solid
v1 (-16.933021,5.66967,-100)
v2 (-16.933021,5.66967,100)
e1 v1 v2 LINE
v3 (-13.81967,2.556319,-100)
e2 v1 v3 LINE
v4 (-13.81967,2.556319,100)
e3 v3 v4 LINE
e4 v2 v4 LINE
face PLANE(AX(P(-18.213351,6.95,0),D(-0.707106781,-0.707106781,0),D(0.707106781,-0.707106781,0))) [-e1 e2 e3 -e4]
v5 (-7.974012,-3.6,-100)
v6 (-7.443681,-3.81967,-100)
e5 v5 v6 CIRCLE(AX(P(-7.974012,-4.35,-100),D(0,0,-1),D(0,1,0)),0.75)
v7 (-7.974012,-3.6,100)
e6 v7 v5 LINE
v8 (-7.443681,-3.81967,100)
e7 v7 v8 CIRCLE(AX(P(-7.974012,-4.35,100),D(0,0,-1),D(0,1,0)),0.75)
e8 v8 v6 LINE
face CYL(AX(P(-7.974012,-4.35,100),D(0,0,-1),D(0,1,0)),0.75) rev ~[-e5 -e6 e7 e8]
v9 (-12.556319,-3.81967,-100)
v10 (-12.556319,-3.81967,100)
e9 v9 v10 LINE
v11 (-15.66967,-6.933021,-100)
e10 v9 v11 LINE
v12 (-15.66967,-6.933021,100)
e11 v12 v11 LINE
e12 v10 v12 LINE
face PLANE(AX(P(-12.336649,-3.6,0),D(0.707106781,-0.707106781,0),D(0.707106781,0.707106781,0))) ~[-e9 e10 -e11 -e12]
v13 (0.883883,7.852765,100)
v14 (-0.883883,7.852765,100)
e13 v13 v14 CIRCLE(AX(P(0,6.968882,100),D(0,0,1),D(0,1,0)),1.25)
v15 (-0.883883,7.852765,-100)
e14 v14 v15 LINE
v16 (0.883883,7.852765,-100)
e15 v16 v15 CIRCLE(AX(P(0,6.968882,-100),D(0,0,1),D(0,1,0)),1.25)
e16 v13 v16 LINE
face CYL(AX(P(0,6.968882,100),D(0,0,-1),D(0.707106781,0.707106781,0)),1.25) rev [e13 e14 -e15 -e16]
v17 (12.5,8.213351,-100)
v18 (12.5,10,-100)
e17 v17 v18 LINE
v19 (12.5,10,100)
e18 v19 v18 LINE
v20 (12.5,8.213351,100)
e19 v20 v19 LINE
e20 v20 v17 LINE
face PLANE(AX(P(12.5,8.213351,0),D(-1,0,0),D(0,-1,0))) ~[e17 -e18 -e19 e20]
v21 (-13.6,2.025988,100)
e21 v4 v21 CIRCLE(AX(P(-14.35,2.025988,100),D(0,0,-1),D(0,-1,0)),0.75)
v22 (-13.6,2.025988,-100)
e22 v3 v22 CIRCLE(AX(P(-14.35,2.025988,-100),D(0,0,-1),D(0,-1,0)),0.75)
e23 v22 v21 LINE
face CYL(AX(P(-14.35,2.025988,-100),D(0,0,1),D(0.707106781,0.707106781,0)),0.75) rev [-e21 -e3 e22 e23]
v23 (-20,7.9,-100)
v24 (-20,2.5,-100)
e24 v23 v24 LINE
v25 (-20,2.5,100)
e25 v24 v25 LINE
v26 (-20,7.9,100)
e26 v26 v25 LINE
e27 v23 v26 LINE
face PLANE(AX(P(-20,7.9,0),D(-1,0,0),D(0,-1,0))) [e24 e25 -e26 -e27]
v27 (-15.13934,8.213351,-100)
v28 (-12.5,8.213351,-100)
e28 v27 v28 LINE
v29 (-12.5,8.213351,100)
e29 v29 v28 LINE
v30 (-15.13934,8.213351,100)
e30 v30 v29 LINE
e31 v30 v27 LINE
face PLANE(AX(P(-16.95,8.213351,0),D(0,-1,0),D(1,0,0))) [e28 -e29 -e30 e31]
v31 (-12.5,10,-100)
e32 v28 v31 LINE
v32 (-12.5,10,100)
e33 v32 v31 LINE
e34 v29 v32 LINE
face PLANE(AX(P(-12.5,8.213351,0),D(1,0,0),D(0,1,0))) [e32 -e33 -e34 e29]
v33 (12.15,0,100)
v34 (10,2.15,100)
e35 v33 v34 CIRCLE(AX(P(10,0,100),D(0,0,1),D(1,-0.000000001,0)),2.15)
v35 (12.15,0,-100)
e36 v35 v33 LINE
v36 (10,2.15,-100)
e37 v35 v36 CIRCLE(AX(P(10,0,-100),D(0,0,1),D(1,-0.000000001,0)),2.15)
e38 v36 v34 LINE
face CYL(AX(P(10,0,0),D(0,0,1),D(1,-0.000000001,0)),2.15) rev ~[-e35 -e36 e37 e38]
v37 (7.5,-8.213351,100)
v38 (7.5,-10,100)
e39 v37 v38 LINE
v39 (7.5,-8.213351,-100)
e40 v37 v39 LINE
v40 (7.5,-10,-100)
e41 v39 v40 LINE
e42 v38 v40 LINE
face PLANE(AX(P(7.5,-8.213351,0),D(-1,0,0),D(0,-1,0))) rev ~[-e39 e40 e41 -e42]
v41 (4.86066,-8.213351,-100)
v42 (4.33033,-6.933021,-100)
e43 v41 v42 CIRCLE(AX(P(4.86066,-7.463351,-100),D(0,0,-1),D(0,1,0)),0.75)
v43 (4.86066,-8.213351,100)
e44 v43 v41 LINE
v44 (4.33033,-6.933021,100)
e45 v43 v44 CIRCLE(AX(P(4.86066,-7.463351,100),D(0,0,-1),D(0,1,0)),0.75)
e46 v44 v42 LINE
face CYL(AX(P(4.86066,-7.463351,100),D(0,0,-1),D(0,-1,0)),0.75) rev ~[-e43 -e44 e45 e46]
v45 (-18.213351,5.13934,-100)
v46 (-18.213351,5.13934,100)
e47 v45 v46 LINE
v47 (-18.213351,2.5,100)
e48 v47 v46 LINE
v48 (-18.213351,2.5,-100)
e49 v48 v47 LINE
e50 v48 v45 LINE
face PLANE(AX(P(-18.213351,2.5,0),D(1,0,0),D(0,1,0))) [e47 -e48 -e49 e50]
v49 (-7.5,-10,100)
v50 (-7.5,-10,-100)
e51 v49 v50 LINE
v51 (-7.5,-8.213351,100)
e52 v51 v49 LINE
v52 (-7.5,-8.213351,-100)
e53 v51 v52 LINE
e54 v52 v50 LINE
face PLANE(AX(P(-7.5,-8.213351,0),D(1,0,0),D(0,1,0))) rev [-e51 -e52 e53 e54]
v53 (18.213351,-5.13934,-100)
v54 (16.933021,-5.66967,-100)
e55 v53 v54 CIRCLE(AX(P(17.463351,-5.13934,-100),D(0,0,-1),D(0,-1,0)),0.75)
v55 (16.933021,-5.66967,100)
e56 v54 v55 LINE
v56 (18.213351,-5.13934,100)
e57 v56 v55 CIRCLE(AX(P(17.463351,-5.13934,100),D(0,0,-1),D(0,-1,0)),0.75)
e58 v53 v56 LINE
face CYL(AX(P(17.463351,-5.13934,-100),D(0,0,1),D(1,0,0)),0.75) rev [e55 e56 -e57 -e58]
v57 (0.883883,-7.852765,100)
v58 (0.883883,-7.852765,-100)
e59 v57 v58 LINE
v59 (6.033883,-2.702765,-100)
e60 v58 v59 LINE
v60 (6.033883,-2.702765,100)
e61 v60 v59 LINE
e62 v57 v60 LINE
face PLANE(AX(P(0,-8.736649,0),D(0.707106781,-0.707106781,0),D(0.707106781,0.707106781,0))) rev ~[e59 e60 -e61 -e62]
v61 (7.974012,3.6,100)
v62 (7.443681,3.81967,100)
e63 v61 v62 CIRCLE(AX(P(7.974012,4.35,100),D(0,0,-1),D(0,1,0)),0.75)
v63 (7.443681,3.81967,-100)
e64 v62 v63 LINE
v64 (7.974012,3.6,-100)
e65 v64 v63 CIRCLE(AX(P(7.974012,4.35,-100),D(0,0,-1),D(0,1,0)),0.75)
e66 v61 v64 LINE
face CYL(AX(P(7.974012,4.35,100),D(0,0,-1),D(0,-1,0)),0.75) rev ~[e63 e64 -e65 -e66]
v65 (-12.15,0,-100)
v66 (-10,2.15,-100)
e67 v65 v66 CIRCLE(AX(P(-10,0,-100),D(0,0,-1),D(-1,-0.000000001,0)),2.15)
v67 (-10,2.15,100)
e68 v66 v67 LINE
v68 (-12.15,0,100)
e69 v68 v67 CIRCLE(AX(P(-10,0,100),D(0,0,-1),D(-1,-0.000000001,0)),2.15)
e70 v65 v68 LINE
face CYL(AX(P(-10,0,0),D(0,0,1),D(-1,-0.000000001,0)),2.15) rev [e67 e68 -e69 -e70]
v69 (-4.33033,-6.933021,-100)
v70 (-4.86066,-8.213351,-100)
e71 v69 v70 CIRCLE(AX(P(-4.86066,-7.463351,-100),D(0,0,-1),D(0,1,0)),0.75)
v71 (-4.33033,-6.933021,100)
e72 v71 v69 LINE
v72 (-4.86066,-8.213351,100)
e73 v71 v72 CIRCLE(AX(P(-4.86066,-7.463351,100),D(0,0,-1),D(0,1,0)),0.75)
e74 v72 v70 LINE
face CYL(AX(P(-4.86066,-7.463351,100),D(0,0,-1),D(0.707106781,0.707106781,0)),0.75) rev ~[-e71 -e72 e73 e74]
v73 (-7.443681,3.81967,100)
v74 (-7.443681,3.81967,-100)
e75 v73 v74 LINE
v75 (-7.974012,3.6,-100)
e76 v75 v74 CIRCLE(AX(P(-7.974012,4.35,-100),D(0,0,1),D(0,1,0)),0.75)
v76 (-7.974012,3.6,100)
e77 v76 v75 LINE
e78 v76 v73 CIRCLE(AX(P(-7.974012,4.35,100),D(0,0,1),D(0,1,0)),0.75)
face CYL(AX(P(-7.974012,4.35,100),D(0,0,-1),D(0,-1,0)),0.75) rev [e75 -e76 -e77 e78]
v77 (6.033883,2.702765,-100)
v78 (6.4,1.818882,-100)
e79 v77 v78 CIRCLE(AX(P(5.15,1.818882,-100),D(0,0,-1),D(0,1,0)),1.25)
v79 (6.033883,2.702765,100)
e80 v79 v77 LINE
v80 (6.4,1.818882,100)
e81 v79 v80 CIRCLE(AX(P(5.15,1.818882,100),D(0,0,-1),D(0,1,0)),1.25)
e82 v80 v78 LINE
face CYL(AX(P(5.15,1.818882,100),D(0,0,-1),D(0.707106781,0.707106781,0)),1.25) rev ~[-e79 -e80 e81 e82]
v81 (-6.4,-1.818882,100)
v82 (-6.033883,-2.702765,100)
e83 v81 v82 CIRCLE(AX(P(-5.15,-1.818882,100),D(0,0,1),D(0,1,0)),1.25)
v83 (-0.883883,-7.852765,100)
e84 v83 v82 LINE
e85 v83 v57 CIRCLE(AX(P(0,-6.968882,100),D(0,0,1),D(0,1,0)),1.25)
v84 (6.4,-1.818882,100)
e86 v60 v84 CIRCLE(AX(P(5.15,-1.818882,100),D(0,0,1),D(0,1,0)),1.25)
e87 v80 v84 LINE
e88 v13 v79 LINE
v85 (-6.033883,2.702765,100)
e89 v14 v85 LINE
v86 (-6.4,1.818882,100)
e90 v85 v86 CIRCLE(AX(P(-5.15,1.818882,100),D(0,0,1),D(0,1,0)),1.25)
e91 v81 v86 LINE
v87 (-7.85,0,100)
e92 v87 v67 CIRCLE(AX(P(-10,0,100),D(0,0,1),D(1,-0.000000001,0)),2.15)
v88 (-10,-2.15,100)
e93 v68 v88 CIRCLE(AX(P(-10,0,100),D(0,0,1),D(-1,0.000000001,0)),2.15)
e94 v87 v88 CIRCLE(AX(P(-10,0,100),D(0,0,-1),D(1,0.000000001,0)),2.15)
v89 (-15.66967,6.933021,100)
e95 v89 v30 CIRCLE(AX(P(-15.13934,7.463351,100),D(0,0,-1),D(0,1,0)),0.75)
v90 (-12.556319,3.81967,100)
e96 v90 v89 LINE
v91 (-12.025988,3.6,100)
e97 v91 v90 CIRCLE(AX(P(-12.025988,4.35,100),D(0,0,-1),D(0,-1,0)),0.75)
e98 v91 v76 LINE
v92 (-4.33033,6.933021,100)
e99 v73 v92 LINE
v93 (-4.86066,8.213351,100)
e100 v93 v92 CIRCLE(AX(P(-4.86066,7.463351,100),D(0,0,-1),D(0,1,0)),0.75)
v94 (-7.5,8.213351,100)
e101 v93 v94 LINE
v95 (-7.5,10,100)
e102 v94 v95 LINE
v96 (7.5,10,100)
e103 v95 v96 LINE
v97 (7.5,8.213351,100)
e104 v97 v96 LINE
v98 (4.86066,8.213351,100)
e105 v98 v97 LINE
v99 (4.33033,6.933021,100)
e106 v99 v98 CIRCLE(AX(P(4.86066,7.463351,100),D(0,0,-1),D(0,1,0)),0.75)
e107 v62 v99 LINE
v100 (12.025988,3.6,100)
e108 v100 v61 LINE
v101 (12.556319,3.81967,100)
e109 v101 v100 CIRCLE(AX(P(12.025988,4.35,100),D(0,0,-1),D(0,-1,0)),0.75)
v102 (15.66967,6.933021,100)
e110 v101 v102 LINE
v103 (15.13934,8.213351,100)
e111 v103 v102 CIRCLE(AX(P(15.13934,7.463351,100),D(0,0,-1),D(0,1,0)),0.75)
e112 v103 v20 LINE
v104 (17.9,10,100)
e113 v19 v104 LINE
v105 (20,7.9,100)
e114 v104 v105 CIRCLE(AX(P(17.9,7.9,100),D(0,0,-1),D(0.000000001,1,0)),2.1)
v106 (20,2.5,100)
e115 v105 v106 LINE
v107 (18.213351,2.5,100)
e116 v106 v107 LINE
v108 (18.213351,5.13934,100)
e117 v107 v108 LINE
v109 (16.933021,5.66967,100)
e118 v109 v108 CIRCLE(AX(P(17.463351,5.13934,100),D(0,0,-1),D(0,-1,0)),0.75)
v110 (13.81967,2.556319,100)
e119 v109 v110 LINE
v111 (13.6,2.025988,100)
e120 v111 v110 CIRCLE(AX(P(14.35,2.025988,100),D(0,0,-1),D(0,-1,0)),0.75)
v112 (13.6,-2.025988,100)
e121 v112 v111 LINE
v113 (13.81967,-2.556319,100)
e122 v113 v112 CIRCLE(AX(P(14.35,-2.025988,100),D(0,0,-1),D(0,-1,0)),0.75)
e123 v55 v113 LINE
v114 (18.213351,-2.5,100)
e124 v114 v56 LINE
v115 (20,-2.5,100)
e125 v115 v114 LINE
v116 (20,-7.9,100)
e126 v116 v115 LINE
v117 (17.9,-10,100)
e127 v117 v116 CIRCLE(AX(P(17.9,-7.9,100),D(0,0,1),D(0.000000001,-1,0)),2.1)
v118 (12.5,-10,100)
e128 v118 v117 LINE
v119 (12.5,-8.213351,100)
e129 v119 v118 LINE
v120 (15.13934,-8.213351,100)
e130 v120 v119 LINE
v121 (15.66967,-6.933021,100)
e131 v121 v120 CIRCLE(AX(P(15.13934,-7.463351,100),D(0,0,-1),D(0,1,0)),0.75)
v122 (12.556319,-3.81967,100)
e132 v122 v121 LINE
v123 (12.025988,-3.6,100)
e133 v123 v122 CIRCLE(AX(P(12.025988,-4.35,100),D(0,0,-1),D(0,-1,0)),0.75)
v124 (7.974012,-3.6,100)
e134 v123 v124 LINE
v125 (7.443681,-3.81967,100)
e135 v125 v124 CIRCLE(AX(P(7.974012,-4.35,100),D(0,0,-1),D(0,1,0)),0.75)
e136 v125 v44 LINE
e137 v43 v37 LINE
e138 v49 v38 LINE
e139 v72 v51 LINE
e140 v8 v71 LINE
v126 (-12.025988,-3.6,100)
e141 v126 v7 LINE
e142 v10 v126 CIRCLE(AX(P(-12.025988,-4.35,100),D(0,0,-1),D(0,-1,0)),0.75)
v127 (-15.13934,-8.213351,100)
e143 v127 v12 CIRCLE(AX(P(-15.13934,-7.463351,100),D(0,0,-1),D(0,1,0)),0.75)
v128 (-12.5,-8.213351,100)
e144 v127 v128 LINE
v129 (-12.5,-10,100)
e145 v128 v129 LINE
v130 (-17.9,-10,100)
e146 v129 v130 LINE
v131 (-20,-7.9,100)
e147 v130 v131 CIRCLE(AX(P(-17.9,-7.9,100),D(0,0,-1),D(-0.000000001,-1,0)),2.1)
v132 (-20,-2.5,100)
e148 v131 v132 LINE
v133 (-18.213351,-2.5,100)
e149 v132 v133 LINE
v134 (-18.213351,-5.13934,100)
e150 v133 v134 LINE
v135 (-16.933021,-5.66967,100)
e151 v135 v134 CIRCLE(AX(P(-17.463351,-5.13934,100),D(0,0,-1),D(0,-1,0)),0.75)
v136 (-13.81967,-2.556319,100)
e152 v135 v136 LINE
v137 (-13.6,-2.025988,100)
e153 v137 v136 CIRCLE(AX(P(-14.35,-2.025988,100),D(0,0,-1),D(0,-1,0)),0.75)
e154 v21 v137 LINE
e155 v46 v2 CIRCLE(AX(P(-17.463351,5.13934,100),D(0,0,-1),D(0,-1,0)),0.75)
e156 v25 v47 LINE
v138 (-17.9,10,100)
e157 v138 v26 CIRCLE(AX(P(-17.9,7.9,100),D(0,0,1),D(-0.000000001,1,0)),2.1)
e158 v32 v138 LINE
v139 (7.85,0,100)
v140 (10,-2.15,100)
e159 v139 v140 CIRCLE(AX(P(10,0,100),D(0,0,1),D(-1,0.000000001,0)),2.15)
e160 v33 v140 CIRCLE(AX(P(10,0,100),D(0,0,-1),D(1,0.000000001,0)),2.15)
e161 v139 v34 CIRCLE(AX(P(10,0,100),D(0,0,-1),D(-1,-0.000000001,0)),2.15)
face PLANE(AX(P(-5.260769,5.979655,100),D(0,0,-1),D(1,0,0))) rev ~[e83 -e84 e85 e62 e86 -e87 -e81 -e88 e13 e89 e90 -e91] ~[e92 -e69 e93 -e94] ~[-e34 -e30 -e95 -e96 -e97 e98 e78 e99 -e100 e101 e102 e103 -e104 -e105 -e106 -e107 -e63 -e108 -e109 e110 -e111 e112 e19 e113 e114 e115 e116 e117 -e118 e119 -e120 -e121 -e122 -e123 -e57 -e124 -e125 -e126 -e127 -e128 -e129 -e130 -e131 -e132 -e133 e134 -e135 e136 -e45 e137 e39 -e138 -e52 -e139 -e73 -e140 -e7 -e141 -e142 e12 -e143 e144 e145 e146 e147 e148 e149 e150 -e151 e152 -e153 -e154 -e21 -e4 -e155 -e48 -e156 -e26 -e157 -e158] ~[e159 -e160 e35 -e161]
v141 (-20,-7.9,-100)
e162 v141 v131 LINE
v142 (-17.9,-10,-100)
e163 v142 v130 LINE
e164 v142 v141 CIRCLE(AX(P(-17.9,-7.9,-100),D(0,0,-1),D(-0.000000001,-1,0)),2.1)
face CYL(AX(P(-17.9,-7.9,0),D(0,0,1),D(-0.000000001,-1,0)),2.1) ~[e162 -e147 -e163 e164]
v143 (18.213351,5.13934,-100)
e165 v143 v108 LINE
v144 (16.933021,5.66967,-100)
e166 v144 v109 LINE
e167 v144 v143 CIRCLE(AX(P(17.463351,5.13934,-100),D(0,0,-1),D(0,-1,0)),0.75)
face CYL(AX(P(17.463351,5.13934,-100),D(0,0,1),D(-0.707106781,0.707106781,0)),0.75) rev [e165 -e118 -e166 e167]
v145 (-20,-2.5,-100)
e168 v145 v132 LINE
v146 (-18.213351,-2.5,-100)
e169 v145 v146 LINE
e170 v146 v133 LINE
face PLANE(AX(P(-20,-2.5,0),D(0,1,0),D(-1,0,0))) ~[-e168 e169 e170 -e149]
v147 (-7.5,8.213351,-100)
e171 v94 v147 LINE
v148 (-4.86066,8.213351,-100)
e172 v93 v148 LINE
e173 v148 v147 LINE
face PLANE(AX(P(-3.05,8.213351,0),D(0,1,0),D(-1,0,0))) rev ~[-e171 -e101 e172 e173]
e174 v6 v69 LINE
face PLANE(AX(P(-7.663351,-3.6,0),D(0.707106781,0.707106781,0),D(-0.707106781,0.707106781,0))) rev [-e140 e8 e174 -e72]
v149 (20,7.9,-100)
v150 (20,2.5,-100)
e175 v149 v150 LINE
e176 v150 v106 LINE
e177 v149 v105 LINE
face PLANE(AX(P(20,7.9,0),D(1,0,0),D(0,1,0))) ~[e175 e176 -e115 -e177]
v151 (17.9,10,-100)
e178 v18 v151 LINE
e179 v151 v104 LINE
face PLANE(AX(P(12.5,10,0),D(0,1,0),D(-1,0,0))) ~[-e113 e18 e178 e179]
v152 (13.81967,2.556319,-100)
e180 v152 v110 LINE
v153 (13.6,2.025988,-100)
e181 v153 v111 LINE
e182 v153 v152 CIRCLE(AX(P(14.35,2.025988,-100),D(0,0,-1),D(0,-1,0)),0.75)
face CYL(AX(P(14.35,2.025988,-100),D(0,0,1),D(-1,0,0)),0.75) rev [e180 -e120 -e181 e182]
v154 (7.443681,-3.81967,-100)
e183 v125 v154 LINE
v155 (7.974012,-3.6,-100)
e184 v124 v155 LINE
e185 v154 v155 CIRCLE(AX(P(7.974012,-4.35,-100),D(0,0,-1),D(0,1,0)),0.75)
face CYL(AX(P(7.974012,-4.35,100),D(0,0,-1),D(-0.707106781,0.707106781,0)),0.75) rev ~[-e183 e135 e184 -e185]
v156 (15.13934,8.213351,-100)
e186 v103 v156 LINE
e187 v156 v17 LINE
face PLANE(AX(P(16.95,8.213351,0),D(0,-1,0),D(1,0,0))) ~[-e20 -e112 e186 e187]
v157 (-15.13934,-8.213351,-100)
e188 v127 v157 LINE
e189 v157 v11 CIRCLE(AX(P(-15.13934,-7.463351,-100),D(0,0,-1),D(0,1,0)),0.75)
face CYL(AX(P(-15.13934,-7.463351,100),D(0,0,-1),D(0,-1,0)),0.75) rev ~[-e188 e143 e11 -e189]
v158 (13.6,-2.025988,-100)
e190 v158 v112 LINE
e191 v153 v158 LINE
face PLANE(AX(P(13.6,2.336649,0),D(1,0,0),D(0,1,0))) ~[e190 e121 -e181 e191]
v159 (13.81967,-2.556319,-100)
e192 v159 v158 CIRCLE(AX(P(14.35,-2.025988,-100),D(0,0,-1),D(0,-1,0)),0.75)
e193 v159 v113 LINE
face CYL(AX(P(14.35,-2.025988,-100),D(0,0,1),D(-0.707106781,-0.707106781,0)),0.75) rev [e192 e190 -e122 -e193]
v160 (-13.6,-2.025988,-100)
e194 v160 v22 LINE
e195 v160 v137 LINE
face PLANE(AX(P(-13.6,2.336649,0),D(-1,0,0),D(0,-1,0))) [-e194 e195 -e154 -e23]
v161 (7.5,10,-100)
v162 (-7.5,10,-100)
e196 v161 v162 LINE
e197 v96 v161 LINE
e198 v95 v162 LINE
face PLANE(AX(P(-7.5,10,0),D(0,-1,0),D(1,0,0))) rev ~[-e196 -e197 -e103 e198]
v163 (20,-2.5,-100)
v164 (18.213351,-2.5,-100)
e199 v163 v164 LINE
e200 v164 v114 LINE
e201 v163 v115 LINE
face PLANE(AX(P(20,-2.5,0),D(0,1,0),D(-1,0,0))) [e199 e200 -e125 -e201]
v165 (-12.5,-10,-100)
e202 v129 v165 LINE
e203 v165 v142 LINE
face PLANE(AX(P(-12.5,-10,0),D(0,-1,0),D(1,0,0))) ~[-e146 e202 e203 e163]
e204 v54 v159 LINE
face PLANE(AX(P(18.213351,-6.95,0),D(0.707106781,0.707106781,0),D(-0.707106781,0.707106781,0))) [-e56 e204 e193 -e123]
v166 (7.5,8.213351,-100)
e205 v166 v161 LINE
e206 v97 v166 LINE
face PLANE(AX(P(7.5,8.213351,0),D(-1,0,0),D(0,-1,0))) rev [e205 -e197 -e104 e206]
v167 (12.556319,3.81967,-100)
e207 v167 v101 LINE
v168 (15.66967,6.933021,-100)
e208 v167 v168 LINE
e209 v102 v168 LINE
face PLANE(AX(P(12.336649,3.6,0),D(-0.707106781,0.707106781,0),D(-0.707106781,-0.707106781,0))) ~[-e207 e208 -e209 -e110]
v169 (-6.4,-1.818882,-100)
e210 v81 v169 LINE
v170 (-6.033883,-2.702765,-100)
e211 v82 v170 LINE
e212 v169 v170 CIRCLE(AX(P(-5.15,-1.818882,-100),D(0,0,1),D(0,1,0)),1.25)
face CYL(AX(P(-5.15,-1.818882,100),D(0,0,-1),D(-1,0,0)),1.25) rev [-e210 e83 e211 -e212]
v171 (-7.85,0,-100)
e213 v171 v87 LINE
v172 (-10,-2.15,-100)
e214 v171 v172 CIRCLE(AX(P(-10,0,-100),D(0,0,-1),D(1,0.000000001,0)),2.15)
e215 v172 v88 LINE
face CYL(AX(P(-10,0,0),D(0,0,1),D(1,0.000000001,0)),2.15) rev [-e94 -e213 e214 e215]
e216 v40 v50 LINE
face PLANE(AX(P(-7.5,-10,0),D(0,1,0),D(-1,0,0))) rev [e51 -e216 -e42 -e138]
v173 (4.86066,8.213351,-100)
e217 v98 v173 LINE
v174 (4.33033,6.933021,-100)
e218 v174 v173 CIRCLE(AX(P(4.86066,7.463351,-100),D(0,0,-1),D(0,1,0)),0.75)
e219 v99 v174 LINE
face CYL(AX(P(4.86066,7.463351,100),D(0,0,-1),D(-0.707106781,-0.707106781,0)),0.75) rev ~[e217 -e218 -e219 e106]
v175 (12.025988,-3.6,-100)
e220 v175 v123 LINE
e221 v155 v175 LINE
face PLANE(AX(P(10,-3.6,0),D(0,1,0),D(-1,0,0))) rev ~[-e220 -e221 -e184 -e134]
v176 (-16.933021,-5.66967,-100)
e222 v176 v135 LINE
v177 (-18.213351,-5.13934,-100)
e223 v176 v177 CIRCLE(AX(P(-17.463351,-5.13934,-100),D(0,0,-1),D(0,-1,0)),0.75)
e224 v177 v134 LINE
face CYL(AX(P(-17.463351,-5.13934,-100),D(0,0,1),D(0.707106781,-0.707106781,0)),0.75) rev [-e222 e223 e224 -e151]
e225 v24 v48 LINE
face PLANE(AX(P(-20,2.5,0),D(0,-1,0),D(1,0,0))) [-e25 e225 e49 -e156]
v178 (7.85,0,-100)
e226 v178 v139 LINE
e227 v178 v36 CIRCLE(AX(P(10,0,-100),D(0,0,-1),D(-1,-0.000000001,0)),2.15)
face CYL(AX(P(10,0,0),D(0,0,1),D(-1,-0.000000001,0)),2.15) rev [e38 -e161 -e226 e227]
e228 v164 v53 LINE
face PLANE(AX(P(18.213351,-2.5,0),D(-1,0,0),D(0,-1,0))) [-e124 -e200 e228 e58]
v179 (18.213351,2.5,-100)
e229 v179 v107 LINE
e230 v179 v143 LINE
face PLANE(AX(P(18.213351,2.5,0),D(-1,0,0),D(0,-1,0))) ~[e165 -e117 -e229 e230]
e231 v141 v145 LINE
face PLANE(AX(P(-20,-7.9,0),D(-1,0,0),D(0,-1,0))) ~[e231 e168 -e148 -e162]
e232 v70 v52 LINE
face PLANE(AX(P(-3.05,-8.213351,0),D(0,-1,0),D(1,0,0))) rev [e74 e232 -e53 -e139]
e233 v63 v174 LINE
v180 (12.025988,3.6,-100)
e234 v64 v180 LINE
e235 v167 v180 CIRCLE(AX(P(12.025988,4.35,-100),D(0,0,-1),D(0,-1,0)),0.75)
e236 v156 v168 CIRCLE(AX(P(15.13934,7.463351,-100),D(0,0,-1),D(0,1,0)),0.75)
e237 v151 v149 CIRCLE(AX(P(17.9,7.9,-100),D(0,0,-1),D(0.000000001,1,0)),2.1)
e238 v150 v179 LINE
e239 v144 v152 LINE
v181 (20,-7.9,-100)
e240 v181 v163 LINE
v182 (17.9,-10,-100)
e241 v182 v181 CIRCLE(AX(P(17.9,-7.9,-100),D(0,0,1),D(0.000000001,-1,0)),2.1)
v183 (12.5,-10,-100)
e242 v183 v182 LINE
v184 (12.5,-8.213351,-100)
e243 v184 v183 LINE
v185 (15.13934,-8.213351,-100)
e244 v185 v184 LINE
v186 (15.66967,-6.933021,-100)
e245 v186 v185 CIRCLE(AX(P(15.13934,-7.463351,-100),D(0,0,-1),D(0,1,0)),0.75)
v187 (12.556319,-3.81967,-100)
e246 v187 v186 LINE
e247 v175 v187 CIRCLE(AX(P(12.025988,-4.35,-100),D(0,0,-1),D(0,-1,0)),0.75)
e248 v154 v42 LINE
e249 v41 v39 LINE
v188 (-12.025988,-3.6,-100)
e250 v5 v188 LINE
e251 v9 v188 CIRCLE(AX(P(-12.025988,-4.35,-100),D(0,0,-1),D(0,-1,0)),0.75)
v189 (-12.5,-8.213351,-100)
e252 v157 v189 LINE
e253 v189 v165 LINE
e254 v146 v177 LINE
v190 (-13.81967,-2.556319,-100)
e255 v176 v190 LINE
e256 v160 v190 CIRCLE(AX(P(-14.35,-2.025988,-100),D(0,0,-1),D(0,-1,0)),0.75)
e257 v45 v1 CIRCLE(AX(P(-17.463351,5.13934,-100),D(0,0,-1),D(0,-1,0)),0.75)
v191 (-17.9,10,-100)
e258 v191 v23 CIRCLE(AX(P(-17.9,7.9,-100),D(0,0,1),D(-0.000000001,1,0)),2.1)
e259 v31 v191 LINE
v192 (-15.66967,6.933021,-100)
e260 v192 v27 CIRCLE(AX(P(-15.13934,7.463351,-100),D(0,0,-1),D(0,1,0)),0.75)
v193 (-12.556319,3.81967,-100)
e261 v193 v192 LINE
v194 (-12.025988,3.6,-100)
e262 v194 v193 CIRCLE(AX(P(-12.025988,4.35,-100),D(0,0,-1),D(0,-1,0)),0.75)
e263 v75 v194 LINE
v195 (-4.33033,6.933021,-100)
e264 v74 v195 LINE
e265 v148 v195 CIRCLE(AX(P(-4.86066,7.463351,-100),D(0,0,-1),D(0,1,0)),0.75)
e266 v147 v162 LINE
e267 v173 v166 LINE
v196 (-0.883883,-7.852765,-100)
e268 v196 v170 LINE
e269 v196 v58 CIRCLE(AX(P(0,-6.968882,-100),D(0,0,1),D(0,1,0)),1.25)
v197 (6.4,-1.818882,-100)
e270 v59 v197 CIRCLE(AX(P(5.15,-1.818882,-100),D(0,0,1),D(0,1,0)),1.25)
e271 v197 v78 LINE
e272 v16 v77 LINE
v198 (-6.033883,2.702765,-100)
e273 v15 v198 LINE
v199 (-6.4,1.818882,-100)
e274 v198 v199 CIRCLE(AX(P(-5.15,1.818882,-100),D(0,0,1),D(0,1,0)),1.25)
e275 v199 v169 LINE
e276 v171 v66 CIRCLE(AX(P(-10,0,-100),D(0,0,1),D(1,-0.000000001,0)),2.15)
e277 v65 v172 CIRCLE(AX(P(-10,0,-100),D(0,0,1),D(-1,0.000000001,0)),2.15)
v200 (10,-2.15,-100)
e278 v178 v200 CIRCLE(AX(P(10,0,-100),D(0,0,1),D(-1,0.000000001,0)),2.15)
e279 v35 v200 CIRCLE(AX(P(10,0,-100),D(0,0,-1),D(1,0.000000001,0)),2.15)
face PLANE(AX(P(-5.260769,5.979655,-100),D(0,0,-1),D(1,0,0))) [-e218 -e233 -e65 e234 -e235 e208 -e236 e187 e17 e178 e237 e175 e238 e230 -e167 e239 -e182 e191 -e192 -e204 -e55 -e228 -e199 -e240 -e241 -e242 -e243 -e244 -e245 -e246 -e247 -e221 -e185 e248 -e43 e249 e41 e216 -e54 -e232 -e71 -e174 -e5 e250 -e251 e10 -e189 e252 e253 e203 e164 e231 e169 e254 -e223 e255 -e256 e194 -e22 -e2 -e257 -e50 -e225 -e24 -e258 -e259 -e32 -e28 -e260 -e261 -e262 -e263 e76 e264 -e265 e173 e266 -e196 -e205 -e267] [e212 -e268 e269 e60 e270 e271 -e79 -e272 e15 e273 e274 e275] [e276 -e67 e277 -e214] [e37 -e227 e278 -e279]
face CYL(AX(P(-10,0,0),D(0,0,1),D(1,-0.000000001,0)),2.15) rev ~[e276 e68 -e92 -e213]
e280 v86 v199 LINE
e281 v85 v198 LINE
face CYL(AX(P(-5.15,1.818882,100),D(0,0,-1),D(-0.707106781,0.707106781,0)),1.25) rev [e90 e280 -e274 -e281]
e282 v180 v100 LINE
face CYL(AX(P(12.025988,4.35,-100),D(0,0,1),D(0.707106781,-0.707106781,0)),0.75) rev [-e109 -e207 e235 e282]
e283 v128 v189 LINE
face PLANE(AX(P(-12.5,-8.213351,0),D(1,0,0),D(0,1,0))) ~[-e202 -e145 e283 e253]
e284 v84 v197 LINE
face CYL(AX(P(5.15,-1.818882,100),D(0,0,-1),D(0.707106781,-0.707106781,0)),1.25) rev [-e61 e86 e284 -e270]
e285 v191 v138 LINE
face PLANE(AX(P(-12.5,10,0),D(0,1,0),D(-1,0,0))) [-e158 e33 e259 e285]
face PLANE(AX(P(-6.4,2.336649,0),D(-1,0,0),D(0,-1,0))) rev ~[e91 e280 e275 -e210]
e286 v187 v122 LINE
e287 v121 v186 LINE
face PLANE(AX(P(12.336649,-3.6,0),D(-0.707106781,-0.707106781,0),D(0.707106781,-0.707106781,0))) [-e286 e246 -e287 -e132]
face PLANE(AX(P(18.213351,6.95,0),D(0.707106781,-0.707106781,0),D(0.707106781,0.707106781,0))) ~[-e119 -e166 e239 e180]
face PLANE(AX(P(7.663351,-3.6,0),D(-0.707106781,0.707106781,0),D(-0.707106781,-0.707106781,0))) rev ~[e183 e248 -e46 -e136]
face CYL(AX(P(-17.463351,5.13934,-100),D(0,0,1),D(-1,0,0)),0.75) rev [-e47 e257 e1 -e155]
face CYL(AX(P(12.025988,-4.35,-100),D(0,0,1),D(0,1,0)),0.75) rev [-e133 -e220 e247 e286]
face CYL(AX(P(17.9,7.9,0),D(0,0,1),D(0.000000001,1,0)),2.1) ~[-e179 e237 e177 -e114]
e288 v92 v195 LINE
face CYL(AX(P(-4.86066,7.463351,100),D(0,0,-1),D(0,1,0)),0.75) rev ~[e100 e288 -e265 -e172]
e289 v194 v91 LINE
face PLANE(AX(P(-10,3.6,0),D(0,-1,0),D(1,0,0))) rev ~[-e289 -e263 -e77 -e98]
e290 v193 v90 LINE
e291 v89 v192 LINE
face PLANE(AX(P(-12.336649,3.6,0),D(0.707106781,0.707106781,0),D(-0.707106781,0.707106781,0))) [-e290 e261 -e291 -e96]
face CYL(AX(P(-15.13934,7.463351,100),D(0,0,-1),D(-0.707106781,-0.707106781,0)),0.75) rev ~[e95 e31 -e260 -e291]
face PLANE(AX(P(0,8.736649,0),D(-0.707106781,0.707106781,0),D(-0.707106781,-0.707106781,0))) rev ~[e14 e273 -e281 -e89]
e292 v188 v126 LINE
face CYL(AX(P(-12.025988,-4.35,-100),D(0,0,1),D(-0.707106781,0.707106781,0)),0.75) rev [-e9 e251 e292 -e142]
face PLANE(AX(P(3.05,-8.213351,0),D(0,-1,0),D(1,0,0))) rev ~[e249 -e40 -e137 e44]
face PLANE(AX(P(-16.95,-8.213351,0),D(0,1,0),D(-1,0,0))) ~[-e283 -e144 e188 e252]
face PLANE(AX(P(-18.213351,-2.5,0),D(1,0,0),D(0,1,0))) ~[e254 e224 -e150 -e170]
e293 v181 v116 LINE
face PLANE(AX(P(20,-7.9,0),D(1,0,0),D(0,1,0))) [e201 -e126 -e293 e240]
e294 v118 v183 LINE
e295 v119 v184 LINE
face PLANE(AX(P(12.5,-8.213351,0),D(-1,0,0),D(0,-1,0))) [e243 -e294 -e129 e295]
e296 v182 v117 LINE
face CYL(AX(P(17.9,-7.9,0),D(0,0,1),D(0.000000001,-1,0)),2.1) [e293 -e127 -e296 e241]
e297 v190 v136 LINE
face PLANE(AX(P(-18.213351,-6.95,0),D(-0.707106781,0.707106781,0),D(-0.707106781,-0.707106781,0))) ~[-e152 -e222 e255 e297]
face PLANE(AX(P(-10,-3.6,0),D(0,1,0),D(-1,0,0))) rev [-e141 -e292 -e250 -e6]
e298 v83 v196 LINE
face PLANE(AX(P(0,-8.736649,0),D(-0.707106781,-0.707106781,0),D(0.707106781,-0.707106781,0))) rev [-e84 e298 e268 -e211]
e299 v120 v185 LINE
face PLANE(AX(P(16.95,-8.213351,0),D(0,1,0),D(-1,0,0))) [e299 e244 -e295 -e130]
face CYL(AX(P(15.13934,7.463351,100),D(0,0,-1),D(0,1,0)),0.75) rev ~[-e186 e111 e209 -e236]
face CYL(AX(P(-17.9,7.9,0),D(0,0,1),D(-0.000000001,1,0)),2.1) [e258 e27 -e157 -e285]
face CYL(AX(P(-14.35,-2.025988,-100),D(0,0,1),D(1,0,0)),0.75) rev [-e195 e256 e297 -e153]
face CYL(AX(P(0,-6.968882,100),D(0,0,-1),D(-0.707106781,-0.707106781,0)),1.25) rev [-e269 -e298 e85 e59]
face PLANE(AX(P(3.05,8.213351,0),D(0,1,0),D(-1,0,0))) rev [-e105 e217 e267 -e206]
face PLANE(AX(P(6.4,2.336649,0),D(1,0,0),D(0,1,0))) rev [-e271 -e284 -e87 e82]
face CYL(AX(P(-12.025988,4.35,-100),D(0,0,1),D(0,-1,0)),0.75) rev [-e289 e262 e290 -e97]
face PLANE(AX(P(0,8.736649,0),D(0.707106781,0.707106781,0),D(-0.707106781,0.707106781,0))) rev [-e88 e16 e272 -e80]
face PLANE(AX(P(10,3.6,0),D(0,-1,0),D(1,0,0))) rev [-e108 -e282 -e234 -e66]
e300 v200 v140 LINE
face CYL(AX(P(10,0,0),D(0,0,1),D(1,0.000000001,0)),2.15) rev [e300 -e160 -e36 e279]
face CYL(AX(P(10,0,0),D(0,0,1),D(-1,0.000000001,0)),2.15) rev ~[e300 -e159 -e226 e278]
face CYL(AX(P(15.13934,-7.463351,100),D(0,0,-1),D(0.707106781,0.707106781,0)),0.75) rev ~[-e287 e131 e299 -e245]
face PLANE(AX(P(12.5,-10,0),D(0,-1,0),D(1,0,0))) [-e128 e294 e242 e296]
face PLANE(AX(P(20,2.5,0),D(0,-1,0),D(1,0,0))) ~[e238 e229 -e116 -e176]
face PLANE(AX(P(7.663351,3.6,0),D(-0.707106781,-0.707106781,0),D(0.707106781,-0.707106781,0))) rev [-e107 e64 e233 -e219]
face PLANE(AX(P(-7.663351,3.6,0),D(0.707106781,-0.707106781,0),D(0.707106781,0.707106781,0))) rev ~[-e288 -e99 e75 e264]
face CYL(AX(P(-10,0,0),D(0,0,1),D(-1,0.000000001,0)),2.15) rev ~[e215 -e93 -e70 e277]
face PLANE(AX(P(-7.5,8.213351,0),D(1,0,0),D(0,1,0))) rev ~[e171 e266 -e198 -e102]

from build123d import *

# Parameters (mm, degrees)
BOSS_EXTRUDE1_DEPTH = 100.000000025
BOSS_EXTRUDE2_DEPTH = 100.000000025
FILLET1_R           = 0.75
FILLET2_R           = 1.25


with BuildPart() as part:
    # Sketch3 → Boss-Extrude1 (new, symmetric)
    with BuildSketch(Plane.XY):
        with BuildLine():
            Line((12.5, -10), (17.9, -10))
            ThreePointArc((17.9, -10), (19.38492424, -9.38492424), (20, -7.9))
            Line((20, -7.9), (20, -2.5))
            Line((20, -2.5), (18.213351365, -2.5))
            Line((18.213351365, -2.5), (18.213351365, -6.95))
            Line((18.213351365, -6.95), (13.6, -2.336648635))
            Line((13.6, -2.336648635), (13.6, 0))
            Line((13.6, 0), (12.15, 0))
            ThreePointArc((12.15, 0), (11.52027958, -1.52027958), (10, -2.15))
            Line((10, -2.15), (10, -3.6))
            Line((10, -3.6), (12.336648635, -3.6))
            Line((12.336648635, -3.6), (16.95, -8.213351365))
            Line((16.95, -8.213351365), (12.5, -8.213351365))
            Line((12.5, -8.213351365), (12.5, -10))
        make_face()
    extrude(amount=BOSS_EXTRUDE1_DEPTH, both=True)

    # Sketch4 → Boss-Extrude2 (add, symmetric)
    with BuildSketch(Plane.XY):
        with BuildLine():
            Line((10, -3.6), (7.663351365, -3.6))
            Line((7.663351365, -3.6), (3.05, -8.213351365))
            Line((3.05, -8.213351365), (7.5, -8.213351365))
            Line((7.5, -8.213351365), (7.5, -10))
            Line((7.5, -10), (0, -10))
            Line((0, -10), (0, -8.736648635))
            Line((0, -8.736648635), (6.4, -2.336648635))
            Line((6.4, -2.336648635), (6.4, 0))
            Line((6.4, 0), (7.85, 0))
            ThreePointArc((7.85, 0), (8.47972042, -1.52027958), (10, -2.15))
            Line((10, -2.15), (10, -3.6))
        make_face()
    extrude(amount=BOSS_EXTRUDE2_DEPTH, both=True)

    # Mirror1: part across plane


with BuildPart() as part_1:
    add(part.part)
    add(part.part.mirror(Plane(origin=(0, 0, 0), x_dir=(0, 0, 1), z_dir=(1, 0, 0))))

    # Mirror2: part across plane


with BuildPart() as part_2:
    add(part_1.part)
    add(part_1.part.mirror(Plane.ZX))

    # Fillet1
    fillet1_edges = [part_2.edges().sort_by_distance(p)[0] for p in [
        (18.213351365, 6.95, 0),
        (13.6, 2.336648635, 0),
        (12.336648635, 3.6, 0),
        (16.95, 8.213351365, 0),
        (3.05, 8.213351365, 0),
        (7.663351365, 3.6, 0),
        (-18.213351365, 6.95, 0),
        (-13.6, 2.336648635, 0),
        (-7.663351365, 3.6, 0),
        (-12.336648635, 3.6, 0),
        (-16.95, 8.213351365, 0),
        (-3.05, 8.213351365, 0),
        (16.95, -8.213351365, 0),
        (12.336648635, -3.6, 0),
        (13.6, -2.336648635, 0),
        (18.213351365, -6.95, 0),
        (3.05, -8.213351365, 0),
        (7.663351365, -3.6, 0),
        (-18.213351365, -6.95, 0),
        (-13.6, -2.336648635, 0),
        (-12.336648635, -3.6, 0),
        (-16.95, -8.213351365, 0),
        (-3.05, -8.213351365, 0),
        (-7.663351365, -3.6, 0),
    ]]
    fillet(fillet1_edges, radius=FILLET1_R)

    # Fillet2
    fillet2_edges = [part_2.edges().sort_by_distance(p)[0] for p in [
        (6.4, 2.336648635, 0),
        (0, 8.736648635, 0),
        (-6.4, 2.336648635, 0),
        (6.4, -2.336648635, 0),
        (-6.4, -2.336648635, 0),
        (0, -8.736648635, 0),
    ]]
    fillet(fillet2_edges, radius=FILLET2_R)


solid = part_2.part
